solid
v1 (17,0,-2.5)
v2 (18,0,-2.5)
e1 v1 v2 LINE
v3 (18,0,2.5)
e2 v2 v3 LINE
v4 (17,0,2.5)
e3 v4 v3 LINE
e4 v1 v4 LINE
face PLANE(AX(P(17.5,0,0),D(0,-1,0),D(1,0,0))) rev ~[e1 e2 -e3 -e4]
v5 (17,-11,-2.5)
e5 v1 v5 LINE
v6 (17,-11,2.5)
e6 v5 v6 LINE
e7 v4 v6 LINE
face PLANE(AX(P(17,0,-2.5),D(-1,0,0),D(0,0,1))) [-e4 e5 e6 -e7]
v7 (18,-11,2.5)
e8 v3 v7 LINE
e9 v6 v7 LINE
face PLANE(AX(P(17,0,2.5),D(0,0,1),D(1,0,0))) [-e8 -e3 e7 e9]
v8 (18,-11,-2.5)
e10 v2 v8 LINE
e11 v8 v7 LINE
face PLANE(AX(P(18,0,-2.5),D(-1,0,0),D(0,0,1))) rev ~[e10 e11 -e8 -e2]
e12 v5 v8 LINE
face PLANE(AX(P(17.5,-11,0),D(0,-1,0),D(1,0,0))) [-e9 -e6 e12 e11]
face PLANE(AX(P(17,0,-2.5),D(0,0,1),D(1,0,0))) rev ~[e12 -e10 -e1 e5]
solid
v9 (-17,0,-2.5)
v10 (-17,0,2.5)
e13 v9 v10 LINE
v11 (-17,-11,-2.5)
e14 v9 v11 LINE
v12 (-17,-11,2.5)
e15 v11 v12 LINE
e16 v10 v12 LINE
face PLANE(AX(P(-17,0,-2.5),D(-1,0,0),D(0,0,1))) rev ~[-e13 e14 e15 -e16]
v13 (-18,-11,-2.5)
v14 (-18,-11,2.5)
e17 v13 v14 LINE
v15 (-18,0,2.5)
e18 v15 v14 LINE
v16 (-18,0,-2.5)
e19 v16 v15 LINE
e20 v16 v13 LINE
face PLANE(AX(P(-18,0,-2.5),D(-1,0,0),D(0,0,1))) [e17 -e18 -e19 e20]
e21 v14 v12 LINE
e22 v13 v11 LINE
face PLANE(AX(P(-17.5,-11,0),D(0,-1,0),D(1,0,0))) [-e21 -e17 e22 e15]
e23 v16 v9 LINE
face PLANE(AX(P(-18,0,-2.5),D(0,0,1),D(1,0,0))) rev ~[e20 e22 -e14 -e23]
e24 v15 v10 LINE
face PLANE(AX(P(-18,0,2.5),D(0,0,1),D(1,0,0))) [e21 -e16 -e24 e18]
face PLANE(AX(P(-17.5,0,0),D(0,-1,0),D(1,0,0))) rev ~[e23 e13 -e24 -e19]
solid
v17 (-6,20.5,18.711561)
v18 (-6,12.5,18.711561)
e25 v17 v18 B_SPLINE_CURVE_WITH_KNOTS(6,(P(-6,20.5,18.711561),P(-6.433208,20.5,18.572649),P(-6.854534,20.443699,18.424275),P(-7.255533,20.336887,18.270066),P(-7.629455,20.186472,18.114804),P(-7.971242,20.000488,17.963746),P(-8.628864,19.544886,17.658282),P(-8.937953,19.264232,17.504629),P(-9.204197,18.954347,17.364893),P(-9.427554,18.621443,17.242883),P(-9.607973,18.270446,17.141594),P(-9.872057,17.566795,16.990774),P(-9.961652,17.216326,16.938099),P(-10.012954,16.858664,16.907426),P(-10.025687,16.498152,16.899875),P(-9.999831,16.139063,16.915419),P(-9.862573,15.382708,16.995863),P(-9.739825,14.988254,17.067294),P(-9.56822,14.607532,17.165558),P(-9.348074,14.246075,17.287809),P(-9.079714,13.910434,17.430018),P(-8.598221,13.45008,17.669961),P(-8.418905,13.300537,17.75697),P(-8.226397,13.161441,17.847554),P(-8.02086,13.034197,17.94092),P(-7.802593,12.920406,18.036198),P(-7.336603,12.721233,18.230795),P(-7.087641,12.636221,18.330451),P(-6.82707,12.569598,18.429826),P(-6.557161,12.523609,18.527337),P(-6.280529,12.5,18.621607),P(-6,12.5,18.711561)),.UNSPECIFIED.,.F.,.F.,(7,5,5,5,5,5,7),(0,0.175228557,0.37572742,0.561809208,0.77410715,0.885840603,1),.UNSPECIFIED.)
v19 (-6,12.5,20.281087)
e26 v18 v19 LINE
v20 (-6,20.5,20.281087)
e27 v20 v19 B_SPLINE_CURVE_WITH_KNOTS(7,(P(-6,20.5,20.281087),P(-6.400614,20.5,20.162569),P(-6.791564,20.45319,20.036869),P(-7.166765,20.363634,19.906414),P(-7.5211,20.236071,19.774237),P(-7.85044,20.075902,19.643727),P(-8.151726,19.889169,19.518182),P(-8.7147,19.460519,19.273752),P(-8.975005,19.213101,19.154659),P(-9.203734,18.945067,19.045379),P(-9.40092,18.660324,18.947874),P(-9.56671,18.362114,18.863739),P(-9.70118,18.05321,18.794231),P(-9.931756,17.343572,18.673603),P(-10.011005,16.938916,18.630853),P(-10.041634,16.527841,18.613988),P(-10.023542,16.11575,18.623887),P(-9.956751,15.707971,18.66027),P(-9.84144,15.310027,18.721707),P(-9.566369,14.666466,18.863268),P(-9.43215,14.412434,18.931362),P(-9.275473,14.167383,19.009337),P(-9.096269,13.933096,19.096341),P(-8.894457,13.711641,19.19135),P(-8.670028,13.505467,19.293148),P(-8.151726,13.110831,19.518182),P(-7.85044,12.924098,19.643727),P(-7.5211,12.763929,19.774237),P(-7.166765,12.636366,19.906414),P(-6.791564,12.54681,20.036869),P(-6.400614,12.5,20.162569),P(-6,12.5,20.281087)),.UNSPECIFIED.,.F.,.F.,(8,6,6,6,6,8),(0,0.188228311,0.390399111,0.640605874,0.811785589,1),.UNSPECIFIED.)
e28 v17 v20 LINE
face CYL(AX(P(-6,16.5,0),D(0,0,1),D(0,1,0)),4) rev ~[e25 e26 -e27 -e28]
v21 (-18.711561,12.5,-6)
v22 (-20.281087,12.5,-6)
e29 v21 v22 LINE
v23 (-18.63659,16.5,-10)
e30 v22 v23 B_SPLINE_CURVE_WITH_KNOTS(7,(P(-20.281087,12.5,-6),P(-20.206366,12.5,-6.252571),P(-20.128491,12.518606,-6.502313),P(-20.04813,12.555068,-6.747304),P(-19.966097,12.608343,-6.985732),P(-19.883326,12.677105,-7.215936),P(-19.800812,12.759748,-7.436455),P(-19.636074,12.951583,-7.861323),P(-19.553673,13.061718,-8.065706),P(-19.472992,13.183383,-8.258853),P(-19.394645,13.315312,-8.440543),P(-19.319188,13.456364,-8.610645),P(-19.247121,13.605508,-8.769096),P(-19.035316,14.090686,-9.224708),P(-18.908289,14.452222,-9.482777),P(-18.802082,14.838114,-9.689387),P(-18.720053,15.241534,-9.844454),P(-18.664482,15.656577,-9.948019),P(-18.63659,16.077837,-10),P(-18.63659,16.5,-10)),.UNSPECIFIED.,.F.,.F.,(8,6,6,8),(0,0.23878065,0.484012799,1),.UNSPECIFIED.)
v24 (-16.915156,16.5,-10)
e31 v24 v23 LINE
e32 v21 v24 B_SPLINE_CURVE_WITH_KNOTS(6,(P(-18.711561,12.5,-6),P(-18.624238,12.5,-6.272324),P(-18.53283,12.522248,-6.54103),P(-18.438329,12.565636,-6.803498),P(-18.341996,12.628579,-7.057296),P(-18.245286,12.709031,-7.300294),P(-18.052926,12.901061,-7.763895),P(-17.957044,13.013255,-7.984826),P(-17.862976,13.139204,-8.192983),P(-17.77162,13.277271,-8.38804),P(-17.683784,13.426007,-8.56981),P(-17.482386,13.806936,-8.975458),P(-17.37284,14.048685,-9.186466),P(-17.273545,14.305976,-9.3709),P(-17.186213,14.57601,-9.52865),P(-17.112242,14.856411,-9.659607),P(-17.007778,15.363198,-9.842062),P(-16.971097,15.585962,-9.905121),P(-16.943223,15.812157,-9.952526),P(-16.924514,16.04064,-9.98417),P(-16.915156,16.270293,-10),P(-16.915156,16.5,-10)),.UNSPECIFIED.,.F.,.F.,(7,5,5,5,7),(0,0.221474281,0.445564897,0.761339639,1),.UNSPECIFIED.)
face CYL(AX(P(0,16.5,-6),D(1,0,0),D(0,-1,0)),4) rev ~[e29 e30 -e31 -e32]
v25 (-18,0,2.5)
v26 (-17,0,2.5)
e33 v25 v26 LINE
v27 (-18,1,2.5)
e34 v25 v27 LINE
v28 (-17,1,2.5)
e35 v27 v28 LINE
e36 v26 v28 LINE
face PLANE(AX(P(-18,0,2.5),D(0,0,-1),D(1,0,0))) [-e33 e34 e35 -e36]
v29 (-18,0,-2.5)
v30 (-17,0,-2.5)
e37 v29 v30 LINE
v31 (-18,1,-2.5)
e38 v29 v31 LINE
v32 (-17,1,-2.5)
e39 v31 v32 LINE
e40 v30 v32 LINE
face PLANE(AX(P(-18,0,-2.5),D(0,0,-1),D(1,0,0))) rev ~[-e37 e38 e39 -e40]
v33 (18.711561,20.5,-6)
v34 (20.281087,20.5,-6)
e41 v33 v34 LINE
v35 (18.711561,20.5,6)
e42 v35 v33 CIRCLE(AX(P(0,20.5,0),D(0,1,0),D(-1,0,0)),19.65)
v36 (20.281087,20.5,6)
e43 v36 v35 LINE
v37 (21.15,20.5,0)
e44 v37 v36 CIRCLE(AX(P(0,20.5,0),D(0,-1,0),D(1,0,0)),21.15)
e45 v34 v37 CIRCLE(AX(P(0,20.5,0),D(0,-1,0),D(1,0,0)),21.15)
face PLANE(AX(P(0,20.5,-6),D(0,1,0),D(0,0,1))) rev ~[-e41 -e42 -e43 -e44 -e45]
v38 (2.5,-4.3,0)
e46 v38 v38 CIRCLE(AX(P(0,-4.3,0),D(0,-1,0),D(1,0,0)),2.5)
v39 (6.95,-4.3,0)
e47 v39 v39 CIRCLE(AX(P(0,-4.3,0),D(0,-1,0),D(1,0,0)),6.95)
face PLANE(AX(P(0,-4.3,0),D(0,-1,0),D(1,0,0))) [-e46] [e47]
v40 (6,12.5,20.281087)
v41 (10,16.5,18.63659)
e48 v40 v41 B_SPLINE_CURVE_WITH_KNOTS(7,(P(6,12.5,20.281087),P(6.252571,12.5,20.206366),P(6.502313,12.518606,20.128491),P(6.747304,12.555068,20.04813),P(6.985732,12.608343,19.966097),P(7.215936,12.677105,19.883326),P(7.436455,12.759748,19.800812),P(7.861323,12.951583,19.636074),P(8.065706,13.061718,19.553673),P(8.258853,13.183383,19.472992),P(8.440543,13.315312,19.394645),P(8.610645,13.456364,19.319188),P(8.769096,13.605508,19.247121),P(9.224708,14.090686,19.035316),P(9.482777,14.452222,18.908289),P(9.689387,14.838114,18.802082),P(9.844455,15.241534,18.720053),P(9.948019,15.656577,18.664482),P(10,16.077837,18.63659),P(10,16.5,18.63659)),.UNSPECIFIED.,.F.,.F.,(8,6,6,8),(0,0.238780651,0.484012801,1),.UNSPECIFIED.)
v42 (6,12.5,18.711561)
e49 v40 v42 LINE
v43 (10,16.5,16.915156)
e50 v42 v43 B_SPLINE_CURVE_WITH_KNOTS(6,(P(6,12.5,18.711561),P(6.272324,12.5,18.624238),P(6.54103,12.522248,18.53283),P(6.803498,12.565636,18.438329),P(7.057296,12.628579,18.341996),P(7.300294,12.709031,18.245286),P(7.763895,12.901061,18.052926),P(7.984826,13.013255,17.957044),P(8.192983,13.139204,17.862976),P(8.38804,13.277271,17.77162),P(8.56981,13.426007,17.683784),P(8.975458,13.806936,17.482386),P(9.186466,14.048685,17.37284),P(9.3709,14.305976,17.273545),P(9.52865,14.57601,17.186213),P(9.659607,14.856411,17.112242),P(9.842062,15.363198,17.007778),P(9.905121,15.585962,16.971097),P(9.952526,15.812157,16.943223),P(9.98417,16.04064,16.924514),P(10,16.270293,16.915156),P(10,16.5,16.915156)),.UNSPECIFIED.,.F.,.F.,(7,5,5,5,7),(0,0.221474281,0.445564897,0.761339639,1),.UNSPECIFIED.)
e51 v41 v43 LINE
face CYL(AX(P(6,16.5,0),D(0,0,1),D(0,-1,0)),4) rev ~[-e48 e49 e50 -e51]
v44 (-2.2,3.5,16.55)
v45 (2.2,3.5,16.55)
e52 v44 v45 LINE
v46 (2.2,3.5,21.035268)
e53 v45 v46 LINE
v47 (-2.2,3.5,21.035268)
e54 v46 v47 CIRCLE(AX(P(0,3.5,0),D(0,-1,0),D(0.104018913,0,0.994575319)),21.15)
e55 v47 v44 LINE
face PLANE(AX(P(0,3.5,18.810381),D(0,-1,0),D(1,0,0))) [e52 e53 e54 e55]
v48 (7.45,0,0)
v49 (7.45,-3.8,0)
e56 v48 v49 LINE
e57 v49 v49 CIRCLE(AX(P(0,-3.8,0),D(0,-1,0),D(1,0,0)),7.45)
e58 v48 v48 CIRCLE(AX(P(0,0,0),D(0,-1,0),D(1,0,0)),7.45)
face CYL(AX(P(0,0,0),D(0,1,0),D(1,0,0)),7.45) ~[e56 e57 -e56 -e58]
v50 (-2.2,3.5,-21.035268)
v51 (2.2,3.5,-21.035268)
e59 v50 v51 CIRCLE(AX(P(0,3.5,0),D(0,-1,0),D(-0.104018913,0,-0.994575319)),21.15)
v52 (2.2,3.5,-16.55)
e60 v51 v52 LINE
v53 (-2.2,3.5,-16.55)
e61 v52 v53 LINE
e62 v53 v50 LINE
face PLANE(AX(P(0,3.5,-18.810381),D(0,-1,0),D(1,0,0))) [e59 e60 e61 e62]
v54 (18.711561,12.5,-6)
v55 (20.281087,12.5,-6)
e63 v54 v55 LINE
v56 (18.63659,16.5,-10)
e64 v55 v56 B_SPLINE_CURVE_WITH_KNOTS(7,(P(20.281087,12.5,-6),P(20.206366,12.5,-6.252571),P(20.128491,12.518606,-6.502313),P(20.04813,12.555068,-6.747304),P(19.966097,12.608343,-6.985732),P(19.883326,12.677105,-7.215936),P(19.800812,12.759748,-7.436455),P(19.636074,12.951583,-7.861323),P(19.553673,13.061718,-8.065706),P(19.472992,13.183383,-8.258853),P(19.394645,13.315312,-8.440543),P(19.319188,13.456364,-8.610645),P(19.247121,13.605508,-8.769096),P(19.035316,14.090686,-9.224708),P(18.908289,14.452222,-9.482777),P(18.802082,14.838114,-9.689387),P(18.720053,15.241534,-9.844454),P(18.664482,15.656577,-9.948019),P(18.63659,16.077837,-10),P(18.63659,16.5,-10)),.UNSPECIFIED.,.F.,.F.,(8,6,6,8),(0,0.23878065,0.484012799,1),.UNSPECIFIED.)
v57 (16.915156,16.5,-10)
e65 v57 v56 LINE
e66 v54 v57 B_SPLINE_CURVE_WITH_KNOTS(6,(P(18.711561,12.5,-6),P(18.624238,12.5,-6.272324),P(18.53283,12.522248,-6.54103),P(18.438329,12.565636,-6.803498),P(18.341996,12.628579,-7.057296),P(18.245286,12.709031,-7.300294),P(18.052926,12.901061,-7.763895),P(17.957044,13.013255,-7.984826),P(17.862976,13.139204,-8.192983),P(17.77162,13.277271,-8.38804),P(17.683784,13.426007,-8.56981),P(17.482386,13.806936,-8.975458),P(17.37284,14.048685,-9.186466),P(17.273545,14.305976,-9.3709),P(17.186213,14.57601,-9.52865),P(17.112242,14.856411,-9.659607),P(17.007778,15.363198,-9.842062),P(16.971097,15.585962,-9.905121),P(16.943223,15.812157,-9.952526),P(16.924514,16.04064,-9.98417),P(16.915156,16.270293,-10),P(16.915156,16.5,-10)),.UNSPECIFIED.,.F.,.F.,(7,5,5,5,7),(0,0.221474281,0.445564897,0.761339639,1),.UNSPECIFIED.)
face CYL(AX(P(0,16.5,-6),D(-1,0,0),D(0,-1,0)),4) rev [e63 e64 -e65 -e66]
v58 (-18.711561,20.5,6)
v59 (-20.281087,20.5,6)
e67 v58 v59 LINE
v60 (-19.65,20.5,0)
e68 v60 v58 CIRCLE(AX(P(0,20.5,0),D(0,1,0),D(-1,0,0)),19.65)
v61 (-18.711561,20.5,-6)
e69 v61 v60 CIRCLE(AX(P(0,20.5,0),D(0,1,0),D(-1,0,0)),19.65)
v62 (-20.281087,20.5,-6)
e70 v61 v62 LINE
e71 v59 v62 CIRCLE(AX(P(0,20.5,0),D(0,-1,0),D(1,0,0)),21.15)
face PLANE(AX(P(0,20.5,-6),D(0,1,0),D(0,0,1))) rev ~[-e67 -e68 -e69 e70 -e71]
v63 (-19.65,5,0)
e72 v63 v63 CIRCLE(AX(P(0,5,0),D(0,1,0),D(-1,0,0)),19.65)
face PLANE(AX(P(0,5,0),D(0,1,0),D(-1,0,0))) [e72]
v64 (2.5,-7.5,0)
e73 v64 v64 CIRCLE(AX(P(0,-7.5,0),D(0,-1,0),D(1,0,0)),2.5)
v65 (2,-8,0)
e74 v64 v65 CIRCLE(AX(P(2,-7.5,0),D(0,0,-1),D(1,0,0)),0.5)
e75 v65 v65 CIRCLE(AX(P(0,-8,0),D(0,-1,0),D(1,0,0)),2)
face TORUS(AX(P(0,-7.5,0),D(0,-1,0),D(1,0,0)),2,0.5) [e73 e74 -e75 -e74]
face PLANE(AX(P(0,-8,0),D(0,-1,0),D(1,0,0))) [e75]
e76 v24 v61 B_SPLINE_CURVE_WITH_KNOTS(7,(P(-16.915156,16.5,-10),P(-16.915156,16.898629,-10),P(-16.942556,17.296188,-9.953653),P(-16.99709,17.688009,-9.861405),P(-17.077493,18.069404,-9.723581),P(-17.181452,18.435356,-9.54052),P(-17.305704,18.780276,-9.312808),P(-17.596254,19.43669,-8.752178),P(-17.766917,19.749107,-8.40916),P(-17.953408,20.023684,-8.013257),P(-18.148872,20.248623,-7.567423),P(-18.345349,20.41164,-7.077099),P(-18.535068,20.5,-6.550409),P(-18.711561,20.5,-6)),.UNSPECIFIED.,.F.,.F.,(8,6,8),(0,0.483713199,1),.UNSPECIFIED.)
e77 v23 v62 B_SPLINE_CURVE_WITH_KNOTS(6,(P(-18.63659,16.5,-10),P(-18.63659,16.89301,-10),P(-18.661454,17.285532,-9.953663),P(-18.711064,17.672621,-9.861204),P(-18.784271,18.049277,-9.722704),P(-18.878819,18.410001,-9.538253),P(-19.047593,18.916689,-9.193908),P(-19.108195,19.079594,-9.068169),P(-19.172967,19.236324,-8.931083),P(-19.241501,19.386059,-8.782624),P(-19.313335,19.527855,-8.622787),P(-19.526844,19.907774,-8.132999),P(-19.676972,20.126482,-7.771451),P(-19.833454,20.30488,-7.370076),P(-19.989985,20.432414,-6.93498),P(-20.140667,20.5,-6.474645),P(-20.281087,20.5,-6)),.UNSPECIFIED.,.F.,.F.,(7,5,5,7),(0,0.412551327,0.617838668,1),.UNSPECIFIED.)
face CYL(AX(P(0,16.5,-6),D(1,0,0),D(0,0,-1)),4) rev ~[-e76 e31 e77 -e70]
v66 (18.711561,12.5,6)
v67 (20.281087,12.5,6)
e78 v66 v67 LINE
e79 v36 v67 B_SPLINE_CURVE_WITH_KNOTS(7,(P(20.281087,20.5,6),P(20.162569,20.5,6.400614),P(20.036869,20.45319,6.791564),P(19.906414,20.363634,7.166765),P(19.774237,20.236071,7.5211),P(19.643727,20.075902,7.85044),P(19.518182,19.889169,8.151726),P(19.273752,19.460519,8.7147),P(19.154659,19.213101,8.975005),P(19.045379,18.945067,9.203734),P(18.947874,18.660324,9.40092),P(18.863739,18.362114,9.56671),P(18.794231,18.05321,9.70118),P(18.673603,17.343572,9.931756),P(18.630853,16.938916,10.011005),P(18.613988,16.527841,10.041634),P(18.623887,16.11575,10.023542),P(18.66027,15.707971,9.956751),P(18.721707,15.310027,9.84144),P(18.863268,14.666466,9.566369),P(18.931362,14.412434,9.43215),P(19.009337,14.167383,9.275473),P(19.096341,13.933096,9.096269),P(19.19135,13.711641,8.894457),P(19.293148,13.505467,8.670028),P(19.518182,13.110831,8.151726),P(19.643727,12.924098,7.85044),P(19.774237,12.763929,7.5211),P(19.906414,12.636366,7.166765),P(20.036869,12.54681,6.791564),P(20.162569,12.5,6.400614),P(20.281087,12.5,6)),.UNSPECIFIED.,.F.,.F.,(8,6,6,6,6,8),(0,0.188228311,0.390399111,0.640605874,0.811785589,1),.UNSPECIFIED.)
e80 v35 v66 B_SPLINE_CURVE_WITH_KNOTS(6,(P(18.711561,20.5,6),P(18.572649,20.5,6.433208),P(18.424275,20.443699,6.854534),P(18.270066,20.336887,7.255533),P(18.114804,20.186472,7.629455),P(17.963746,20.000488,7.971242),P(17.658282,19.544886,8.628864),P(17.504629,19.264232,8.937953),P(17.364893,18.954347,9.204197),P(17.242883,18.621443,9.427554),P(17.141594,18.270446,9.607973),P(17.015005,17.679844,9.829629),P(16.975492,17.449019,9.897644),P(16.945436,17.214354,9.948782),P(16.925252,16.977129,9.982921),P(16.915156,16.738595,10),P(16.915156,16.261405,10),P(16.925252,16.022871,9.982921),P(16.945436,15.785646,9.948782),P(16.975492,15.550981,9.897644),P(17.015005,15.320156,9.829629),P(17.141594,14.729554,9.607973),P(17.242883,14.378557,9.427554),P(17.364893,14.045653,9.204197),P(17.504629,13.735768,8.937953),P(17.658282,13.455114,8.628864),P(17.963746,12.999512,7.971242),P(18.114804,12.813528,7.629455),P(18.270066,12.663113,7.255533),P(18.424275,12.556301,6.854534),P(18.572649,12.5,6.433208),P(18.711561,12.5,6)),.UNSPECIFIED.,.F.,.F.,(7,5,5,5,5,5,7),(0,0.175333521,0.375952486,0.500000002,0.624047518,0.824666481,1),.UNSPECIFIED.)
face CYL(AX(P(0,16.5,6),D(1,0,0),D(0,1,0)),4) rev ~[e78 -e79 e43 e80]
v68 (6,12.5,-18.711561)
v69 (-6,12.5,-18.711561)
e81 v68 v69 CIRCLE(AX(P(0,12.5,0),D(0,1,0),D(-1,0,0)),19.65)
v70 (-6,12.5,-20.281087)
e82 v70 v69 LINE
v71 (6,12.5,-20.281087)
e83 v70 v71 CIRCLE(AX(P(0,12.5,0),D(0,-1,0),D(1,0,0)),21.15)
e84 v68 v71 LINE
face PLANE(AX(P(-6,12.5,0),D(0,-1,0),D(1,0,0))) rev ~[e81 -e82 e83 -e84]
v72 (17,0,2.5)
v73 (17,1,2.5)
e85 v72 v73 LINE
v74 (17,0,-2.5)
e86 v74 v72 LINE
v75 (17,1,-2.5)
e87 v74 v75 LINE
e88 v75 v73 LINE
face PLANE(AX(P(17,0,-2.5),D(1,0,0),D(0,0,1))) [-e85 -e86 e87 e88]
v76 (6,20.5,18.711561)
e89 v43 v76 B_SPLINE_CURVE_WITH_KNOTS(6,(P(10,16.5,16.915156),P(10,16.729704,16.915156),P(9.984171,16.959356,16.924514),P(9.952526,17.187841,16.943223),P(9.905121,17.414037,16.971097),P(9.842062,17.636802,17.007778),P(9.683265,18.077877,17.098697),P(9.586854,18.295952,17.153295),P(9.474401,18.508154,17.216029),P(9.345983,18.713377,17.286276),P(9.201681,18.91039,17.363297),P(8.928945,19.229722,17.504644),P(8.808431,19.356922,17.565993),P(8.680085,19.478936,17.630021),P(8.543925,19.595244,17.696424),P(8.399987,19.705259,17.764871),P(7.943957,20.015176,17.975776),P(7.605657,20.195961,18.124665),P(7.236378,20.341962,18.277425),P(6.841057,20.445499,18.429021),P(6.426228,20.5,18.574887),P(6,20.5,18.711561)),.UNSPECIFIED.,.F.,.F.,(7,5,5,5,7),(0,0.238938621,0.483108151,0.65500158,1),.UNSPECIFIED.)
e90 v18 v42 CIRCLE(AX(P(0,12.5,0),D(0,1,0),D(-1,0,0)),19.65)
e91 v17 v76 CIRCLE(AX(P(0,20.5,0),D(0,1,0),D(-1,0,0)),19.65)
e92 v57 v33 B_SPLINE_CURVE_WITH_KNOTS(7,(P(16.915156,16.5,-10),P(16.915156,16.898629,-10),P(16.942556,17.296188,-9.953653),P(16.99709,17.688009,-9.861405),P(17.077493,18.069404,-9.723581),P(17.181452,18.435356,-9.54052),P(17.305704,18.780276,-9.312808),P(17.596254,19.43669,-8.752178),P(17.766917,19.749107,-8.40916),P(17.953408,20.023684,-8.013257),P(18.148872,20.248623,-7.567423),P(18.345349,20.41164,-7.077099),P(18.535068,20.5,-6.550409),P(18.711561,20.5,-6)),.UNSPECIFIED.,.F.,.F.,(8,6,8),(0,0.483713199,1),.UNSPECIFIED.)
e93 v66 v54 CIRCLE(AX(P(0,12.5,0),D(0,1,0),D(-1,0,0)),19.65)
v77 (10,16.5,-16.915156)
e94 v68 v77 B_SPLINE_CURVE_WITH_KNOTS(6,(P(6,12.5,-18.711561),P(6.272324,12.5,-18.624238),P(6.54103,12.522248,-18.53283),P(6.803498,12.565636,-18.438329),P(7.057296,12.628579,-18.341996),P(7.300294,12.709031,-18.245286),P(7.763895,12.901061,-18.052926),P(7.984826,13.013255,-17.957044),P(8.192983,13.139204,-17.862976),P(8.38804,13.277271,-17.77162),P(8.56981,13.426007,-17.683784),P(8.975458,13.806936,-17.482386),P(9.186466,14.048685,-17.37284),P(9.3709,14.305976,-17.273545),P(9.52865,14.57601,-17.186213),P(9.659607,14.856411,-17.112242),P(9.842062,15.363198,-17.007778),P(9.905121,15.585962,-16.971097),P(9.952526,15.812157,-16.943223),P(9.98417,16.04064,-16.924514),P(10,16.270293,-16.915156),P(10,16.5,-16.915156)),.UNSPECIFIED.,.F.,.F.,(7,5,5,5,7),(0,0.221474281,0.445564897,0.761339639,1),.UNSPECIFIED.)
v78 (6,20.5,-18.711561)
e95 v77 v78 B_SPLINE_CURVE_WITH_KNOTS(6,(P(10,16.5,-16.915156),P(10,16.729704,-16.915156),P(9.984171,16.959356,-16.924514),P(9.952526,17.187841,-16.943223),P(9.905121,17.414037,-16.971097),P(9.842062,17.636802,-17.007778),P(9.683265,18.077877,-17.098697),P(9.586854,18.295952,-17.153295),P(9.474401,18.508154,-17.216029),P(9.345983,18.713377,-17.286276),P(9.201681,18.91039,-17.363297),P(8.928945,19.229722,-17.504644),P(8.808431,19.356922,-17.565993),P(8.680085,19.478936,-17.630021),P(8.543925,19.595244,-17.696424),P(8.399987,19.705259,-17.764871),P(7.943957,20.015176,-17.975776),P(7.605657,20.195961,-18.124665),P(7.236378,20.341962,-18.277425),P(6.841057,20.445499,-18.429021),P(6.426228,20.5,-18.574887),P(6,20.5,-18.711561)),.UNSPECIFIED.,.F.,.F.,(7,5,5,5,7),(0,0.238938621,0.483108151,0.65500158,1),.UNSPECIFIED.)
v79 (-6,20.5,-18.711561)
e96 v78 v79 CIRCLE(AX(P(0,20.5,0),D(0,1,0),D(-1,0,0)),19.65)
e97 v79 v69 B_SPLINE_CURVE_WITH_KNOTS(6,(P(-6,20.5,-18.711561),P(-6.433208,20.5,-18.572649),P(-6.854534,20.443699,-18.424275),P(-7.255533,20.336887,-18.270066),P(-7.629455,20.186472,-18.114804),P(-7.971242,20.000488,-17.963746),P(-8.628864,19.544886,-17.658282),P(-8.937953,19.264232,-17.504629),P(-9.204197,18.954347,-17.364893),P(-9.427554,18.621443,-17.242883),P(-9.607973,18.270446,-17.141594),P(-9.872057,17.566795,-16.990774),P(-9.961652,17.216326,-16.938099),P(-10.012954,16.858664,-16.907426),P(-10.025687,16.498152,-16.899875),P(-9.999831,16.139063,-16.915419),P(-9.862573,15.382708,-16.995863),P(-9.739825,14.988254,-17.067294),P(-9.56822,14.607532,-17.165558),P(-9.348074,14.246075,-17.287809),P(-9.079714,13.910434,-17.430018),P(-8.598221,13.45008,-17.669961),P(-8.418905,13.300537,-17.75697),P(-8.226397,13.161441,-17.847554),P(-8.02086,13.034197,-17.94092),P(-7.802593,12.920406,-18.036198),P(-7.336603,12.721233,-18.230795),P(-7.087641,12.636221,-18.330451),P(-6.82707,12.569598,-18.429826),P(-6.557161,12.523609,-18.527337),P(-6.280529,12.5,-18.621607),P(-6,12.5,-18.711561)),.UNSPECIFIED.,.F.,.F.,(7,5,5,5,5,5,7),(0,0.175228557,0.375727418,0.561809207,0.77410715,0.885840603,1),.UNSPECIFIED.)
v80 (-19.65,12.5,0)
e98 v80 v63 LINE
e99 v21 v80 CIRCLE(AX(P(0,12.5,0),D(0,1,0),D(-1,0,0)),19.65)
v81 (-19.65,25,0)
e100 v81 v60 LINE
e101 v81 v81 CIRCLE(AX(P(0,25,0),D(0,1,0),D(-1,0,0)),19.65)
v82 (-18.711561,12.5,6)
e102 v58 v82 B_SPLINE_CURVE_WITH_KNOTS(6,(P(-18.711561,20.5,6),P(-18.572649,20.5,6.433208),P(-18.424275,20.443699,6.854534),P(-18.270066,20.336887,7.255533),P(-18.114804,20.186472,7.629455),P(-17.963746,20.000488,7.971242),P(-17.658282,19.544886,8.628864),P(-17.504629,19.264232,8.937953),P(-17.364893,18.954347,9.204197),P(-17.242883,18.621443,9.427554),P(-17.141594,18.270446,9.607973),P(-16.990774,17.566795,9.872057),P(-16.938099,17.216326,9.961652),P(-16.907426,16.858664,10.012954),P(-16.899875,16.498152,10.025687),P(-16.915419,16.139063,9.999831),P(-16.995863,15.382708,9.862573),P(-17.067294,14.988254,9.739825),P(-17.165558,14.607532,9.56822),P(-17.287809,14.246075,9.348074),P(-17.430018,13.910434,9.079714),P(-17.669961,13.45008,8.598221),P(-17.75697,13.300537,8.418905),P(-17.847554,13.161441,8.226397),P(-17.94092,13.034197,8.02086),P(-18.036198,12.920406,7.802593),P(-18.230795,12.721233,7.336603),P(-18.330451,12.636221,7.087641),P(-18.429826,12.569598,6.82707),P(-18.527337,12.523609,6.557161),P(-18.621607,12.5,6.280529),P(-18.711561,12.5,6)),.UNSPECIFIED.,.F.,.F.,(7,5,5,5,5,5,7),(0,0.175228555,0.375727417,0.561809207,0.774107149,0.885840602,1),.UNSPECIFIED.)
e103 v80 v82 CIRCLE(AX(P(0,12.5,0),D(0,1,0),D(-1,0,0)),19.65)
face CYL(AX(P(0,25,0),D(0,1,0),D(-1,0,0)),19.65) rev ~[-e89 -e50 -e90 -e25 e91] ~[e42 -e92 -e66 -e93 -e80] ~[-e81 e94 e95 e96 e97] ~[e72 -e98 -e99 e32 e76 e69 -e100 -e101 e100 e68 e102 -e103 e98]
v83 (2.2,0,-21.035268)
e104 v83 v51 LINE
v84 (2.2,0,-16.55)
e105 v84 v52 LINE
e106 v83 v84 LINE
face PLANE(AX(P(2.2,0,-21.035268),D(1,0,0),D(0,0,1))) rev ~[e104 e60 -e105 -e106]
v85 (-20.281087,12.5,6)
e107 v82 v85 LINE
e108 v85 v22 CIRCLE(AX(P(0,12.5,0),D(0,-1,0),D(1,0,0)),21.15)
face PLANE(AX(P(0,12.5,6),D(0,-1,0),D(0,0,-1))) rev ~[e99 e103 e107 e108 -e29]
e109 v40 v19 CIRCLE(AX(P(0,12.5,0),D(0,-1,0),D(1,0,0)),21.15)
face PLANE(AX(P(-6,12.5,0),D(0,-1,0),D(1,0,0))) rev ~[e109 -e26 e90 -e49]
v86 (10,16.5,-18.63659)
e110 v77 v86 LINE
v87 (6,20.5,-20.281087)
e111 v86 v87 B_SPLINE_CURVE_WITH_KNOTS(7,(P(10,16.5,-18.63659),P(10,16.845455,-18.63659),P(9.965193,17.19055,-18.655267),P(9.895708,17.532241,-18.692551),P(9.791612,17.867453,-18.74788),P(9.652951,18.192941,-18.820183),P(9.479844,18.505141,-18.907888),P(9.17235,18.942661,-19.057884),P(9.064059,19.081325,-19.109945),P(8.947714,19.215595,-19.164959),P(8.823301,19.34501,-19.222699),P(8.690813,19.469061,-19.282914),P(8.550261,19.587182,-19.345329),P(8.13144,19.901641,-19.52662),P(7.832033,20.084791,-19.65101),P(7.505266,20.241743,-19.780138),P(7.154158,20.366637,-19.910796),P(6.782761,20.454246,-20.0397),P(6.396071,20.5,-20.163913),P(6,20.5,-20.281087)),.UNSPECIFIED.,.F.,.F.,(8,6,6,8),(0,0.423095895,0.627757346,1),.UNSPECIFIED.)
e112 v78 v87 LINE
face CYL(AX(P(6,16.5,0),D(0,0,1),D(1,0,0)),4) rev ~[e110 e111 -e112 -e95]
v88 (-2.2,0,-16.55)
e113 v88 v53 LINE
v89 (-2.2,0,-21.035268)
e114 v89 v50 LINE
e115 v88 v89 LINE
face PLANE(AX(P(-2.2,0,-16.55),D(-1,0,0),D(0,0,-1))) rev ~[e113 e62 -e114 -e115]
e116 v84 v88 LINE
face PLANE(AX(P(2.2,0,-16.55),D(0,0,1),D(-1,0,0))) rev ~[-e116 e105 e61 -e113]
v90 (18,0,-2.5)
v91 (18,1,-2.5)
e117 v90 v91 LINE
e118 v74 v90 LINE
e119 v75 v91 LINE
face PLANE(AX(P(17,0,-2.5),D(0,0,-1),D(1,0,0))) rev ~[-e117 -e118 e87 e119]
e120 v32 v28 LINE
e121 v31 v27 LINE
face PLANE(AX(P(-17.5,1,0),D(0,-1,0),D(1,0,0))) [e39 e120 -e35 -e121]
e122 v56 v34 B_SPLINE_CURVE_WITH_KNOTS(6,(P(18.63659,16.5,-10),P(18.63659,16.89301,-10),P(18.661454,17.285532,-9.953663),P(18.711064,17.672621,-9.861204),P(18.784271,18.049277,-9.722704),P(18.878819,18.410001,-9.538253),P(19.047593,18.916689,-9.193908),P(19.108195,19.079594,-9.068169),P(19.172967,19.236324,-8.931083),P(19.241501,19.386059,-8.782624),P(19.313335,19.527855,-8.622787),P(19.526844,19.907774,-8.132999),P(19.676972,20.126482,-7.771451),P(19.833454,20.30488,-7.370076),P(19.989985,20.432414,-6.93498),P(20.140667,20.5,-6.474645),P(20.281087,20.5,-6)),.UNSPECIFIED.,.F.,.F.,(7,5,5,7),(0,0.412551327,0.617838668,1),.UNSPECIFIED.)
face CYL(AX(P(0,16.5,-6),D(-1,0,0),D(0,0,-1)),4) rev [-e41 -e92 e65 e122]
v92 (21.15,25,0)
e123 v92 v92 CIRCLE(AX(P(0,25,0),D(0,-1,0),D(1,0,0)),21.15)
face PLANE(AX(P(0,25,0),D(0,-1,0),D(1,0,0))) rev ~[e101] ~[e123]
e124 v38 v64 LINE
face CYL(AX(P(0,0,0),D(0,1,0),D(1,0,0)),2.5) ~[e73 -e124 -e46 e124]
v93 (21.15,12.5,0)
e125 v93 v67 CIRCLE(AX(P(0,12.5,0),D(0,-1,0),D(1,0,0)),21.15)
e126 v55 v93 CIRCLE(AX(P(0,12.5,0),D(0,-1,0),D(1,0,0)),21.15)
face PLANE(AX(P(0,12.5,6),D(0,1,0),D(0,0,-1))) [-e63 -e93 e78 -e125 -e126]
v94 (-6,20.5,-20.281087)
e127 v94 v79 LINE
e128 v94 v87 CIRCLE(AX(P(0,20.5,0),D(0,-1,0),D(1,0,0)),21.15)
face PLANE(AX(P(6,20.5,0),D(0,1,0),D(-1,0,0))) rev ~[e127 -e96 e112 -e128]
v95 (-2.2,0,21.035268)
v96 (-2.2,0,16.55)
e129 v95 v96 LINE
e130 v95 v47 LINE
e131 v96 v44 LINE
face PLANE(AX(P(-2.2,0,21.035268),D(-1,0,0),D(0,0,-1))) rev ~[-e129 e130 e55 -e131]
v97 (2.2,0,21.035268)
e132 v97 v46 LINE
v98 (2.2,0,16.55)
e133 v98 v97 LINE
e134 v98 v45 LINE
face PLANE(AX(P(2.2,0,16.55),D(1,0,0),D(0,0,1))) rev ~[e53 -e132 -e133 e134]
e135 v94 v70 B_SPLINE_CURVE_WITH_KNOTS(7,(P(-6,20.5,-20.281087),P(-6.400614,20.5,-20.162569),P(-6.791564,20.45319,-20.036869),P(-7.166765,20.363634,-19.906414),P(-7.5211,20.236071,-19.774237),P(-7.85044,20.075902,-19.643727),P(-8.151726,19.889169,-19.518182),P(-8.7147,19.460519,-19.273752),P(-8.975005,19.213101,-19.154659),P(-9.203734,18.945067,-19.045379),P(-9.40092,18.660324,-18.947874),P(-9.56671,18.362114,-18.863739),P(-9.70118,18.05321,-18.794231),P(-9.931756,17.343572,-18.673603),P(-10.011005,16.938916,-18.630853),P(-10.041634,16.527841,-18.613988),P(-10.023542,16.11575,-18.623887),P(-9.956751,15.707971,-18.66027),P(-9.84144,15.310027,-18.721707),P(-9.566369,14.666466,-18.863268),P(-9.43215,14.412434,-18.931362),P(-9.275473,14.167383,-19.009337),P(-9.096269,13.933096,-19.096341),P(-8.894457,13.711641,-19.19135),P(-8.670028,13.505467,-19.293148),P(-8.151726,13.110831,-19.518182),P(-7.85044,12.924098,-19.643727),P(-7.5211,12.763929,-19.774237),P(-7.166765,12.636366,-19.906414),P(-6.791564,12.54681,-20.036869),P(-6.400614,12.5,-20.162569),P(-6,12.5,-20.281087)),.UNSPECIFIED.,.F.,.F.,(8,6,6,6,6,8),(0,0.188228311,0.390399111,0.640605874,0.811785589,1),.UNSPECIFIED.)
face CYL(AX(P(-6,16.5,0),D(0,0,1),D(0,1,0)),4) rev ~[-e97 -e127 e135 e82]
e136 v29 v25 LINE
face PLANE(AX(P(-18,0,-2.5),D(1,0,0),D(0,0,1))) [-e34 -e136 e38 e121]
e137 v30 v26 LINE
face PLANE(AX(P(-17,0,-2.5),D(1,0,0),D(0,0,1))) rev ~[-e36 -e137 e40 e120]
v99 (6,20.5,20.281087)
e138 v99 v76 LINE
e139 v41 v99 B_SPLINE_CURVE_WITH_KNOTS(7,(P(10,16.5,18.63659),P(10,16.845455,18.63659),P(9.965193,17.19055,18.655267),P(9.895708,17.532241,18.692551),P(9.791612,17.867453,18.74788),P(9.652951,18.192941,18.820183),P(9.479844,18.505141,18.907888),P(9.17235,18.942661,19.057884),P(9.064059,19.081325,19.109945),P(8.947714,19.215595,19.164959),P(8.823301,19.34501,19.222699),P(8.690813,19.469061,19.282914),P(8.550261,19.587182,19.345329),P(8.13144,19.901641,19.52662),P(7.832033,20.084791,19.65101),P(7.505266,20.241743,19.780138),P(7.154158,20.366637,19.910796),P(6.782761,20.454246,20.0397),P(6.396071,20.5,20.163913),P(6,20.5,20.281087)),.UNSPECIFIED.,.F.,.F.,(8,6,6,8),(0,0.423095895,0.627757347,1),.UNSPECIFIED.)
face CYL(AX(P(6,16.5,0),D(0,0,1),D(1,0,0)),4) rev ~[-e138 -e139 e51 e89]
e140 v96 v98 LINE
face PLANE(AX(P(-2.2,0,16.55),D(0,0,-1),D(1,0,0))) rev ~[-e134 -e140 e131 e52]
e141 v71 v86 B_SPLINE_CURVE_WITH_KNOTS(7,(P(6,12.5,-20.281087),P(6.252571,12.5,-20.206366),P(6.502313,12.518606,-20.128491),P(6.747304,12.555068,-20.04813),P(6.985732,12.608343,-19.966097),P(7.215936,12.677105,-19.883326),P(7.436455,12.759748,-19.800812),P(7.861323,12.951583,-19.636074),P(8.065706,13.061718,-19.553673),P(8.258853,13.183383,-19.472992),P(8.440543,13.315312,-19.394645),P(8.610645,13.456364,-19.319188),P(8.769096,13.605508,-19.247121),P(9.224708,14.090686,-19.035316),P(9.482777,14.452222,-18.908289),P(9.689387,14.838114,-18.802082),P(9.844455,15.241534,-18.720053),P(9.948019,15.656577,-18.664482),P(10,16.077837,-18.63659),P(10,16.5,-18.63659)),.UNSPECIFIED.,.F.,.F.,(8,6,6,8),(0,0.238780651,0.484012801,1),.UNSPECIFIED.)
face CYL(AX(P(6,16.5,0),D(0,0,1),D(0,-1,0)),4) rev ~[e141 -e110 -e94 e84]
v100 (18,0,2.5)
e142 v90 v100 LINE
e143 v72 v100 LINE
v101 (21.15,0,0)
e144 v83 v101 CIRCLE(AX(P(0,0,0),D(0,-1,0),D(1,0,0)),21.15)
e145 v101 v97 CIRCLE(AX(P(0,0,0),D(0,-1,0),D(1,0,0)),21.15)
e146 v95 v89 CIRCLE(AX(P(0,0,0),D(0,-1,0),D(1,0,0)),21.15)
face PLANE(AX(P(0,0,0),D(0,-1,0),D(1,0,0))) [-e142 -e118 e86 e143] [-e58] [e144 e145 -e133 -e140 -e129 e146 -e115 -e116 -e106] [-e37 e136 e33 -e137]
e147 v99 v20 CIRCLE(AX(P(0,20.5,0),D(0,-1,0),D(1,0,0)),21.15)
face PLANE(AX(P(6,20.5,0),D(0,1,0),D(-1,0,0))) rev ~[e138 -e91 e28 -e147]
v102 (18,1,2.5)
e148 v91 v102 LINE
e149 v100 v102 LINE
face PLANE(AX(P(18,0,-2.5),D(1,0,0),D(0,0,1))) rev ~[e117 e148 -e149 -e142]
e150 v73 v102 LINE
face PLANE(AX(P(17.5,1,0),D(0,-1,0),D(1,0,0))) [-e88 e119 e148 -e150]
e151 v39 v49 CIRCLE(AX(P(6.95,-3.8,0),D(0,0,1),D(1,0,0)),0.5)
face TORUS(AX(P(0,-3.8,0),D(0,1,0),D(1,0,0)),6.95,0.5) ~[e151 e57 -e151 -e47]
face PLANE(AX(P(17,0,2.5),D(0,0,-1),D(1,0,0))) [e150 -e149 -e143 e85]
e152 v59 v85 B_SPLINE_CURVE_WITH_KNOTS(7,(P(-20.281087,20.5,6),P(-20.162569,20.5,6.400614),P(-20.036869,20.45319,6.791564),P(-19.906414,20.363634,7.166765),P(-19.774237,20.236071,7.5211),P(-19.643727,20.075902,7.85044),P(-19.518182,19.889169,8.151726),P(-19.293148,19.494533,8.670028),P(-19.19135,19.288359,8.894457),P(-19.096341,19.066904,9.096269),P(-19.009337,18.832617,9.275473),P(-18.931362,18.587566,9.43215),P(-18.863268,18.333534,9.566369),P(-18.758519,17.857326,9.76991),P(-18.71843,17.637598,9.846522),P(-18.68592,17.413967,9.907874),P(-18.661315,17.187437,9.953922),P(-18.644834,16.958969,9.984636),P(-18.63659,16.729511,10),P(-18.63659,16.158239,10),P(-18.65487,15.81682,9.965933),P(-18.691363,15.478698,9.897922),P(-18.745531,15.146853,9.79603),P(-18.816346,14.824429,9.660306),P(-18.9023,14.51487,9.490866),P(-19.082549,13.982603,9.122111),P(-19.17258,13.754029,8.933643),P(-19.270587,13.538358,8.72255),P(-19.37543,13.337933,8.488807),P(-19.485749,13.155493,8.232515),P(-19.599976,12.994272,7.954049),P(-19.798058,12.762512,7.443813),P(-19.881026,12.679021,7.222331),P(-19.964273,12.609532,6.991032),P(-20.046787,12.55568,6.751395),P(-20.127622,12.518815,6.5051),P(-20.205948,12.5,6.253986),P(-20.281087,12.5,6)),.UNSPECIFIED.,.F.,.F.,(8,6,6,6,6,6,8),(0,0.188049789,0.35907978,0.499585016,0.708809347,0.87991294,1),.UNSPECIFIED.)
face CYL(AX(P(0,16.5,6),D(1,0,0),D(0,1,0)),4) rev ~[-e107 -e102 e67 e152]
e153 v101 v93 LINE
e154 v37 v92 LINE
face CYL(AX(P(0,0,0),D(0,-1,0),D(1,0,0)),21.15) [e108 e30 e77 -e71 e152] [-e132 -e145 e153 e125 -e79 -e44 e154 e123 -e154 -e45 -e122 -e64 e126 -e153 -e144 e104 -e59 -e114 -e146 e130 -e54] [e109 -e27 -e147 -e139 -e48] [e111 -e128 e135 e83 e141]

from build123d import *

# Parameters (mm, degrees)
F0_W      = 1
F0_H      = 5
F1_DEPTH  = 11
F0_R      = 21.15
F2_DEPTH  = 25
F3_R      = 19.65
F4_DEPTH  = 20
F6_DEPTH  = 22.5
F8_DEPTH  = 22.5
F10_DEPTH = 3.5
F11_R     = 7.45
F11_R_2   = 2.5
F12_DEPTH = 4.3
F13_DEPTH = 8
F14_R     = 0.5
F15_DEPTH = 1


with BuildPart() as f1:
    # F0 (on Front) → F1 (new body)
    with BuildSketch(Plane.XZ):
        with Locations((-17.5, 0)):
            Rectangle(F0_W, F0_H)
    extrude(amount=F1_DEPTH)


with BuildPart() as f1b:
    # F0 (on Front) → F1, piece 2 (new body)
    with BuildSketch(Plane.XZ):
        with Locations((17.5, 0)):
            Rectangle(F0_W, F0_H)
    extrude(amount=F1_DEPTH)


with BuildPart() as f2:
    # F0 (on Front) → F2 (new body)
    with BuildSketch(Plane.XZ):
        Circle(F0_R)
        with Locations((-17.5, 0)):
            Rectangle(F0_W, F0_H, mode=Mode.SUBTRACT)
        with Locations((17.5, 0)):
            Rectangle(F0_W, F0_H, mode=Mode.SUBTRACT)
        with Locations((-17.5, 0)):
            Rectangle(F0_W, F0_H)
        with Locations((17.5, 0)):
            Rectangle(F0_W, F0_H)
    extrude(amount=-F2_DEPTH)

    # F3 (on face) → F4 (cut)
    with BuildSketch(Plane(origin=(0, 25, 0), x_dir=(-1, 0, 0), z_dir=(0, 1, 0))):
        Circle(F3_R)
    extrude(amount=-F4_DEPTH, mode=Mode.SUBTRACT)

    # F5 (on Right) → F6 (cut, symmetric)
    with BuildSketch(Plane.YZ):
        with BuildLine():
            ThreePointArc((20.5, 6), (19.3284271247, 8.8284271247), (16.5, 10))
            ThreePointArc((16.5, 10), (13.6715728753, 8.8284271247), (12.5, 6))
            Line((12.5, 6), (12.5, -6))
            ThreePointArc((12.5, -6), (13.6715728753, -8.8284271247), (16.5, -10))
            ThreePointArc((16.5, -10), (19.3284271247, -8.8284271247), (20.5, -6))
            Line((20.5, -6), (20.5, 6))
        make_face()
    extrude(amount=F6_DEPTH, both=True, mode=Mode.SUBTRACT)

    # F7 (on Top) → F8 (cut, symmetric)
    with BuildSketch(Plane.XY):
        with BuildLine():
            Line((6, 20.5), (-6, 20.5))
            ThreePointArc((-6, 20.5), (-8.8284271247, 19.3284271247), (-10, 16.5))
            ThreePointArc((-10, 16.5), (-8.8284271247, 13.6715728753), (-6, 12.5))
            Line((-6, 12.5), (6, 12.5))
            ThreePointArc((6, 12.5), (8.8284271247, 13.6715728753), (10, 16.5))
            ThreePointArc((10, 16.5), (8.8284271247, 19.3284271247), (6, 20.5))
        make_face()
    extrude(amount=F8_DEPTH, both=True, mode=Mode.SUBTRACT)

    # F9 (on face) → F10 (cut)
    with BuildSketch(Plane.XZ):
        with BuildLine():
            ThreePointArc((2.2, 21.035268004), (0, 21.15), (-2.2, 21.035268004))
            Line((-2.2, 21.035268004), (-2.2, 16.55))
            Line((-2.2, 16.55), (2.2, 16.55))
            Line((2.2, 16.55), (2.2, 21.035268004))
        make_face()
        with BuildLine():
            Line((2.2, -16.55), (-2.2, -16.55))
            Line((-2.2, -16.55), (-2.2, -21.035268004))
            ThreePointArc((-2.2, -21.035268004), (0, -21.15), (2.2, -21.035268004))
            Line((2.2, -21.035268004), (2.2, -16.55))
        make_face()
    extrude(amount=-F10_DEPTH, mode=Mode.SUBTRACT)

    # F11 (on face) → F12 (join)
    with BuildSketch(Plane.XZ):
        Circle(F11_R)
        Circle(F11_R_2, mode=Mode.SUBTRACT)
    extrude(amount=F12_DEPTH)

    # F13 (add): a face of the model
    f13_faces = [f2.faces().sort_by_distance(p)[0] for p in [
        (0, 0, 0),
    ]]
    extrude(f13_faces, amount=F13_DEPTH)

    # F14
    f14_edges = [f2.edges().sort_by_distance(p)[0] for p in [
        (-7.45, -4.3, 0),
        (-2.5, -8, 0),
    ]]
    fillet(f14_edges, radius=F14_R)

    # F0 (on Front) → F15 (cut)
    with BuildSketch(Plane.XZ):
        with Locations((-17.5, 0)):
            Rectangle(F0_W, F0_H)
        with Locations((17.5, 0)):
            Rectangle(F0_W, F0_H)
    extrude(amount=-F15_DEPTH, mode=Mode.SUBTRACT)


solid = Compound([f1.part, f1b.part, f2.part])
